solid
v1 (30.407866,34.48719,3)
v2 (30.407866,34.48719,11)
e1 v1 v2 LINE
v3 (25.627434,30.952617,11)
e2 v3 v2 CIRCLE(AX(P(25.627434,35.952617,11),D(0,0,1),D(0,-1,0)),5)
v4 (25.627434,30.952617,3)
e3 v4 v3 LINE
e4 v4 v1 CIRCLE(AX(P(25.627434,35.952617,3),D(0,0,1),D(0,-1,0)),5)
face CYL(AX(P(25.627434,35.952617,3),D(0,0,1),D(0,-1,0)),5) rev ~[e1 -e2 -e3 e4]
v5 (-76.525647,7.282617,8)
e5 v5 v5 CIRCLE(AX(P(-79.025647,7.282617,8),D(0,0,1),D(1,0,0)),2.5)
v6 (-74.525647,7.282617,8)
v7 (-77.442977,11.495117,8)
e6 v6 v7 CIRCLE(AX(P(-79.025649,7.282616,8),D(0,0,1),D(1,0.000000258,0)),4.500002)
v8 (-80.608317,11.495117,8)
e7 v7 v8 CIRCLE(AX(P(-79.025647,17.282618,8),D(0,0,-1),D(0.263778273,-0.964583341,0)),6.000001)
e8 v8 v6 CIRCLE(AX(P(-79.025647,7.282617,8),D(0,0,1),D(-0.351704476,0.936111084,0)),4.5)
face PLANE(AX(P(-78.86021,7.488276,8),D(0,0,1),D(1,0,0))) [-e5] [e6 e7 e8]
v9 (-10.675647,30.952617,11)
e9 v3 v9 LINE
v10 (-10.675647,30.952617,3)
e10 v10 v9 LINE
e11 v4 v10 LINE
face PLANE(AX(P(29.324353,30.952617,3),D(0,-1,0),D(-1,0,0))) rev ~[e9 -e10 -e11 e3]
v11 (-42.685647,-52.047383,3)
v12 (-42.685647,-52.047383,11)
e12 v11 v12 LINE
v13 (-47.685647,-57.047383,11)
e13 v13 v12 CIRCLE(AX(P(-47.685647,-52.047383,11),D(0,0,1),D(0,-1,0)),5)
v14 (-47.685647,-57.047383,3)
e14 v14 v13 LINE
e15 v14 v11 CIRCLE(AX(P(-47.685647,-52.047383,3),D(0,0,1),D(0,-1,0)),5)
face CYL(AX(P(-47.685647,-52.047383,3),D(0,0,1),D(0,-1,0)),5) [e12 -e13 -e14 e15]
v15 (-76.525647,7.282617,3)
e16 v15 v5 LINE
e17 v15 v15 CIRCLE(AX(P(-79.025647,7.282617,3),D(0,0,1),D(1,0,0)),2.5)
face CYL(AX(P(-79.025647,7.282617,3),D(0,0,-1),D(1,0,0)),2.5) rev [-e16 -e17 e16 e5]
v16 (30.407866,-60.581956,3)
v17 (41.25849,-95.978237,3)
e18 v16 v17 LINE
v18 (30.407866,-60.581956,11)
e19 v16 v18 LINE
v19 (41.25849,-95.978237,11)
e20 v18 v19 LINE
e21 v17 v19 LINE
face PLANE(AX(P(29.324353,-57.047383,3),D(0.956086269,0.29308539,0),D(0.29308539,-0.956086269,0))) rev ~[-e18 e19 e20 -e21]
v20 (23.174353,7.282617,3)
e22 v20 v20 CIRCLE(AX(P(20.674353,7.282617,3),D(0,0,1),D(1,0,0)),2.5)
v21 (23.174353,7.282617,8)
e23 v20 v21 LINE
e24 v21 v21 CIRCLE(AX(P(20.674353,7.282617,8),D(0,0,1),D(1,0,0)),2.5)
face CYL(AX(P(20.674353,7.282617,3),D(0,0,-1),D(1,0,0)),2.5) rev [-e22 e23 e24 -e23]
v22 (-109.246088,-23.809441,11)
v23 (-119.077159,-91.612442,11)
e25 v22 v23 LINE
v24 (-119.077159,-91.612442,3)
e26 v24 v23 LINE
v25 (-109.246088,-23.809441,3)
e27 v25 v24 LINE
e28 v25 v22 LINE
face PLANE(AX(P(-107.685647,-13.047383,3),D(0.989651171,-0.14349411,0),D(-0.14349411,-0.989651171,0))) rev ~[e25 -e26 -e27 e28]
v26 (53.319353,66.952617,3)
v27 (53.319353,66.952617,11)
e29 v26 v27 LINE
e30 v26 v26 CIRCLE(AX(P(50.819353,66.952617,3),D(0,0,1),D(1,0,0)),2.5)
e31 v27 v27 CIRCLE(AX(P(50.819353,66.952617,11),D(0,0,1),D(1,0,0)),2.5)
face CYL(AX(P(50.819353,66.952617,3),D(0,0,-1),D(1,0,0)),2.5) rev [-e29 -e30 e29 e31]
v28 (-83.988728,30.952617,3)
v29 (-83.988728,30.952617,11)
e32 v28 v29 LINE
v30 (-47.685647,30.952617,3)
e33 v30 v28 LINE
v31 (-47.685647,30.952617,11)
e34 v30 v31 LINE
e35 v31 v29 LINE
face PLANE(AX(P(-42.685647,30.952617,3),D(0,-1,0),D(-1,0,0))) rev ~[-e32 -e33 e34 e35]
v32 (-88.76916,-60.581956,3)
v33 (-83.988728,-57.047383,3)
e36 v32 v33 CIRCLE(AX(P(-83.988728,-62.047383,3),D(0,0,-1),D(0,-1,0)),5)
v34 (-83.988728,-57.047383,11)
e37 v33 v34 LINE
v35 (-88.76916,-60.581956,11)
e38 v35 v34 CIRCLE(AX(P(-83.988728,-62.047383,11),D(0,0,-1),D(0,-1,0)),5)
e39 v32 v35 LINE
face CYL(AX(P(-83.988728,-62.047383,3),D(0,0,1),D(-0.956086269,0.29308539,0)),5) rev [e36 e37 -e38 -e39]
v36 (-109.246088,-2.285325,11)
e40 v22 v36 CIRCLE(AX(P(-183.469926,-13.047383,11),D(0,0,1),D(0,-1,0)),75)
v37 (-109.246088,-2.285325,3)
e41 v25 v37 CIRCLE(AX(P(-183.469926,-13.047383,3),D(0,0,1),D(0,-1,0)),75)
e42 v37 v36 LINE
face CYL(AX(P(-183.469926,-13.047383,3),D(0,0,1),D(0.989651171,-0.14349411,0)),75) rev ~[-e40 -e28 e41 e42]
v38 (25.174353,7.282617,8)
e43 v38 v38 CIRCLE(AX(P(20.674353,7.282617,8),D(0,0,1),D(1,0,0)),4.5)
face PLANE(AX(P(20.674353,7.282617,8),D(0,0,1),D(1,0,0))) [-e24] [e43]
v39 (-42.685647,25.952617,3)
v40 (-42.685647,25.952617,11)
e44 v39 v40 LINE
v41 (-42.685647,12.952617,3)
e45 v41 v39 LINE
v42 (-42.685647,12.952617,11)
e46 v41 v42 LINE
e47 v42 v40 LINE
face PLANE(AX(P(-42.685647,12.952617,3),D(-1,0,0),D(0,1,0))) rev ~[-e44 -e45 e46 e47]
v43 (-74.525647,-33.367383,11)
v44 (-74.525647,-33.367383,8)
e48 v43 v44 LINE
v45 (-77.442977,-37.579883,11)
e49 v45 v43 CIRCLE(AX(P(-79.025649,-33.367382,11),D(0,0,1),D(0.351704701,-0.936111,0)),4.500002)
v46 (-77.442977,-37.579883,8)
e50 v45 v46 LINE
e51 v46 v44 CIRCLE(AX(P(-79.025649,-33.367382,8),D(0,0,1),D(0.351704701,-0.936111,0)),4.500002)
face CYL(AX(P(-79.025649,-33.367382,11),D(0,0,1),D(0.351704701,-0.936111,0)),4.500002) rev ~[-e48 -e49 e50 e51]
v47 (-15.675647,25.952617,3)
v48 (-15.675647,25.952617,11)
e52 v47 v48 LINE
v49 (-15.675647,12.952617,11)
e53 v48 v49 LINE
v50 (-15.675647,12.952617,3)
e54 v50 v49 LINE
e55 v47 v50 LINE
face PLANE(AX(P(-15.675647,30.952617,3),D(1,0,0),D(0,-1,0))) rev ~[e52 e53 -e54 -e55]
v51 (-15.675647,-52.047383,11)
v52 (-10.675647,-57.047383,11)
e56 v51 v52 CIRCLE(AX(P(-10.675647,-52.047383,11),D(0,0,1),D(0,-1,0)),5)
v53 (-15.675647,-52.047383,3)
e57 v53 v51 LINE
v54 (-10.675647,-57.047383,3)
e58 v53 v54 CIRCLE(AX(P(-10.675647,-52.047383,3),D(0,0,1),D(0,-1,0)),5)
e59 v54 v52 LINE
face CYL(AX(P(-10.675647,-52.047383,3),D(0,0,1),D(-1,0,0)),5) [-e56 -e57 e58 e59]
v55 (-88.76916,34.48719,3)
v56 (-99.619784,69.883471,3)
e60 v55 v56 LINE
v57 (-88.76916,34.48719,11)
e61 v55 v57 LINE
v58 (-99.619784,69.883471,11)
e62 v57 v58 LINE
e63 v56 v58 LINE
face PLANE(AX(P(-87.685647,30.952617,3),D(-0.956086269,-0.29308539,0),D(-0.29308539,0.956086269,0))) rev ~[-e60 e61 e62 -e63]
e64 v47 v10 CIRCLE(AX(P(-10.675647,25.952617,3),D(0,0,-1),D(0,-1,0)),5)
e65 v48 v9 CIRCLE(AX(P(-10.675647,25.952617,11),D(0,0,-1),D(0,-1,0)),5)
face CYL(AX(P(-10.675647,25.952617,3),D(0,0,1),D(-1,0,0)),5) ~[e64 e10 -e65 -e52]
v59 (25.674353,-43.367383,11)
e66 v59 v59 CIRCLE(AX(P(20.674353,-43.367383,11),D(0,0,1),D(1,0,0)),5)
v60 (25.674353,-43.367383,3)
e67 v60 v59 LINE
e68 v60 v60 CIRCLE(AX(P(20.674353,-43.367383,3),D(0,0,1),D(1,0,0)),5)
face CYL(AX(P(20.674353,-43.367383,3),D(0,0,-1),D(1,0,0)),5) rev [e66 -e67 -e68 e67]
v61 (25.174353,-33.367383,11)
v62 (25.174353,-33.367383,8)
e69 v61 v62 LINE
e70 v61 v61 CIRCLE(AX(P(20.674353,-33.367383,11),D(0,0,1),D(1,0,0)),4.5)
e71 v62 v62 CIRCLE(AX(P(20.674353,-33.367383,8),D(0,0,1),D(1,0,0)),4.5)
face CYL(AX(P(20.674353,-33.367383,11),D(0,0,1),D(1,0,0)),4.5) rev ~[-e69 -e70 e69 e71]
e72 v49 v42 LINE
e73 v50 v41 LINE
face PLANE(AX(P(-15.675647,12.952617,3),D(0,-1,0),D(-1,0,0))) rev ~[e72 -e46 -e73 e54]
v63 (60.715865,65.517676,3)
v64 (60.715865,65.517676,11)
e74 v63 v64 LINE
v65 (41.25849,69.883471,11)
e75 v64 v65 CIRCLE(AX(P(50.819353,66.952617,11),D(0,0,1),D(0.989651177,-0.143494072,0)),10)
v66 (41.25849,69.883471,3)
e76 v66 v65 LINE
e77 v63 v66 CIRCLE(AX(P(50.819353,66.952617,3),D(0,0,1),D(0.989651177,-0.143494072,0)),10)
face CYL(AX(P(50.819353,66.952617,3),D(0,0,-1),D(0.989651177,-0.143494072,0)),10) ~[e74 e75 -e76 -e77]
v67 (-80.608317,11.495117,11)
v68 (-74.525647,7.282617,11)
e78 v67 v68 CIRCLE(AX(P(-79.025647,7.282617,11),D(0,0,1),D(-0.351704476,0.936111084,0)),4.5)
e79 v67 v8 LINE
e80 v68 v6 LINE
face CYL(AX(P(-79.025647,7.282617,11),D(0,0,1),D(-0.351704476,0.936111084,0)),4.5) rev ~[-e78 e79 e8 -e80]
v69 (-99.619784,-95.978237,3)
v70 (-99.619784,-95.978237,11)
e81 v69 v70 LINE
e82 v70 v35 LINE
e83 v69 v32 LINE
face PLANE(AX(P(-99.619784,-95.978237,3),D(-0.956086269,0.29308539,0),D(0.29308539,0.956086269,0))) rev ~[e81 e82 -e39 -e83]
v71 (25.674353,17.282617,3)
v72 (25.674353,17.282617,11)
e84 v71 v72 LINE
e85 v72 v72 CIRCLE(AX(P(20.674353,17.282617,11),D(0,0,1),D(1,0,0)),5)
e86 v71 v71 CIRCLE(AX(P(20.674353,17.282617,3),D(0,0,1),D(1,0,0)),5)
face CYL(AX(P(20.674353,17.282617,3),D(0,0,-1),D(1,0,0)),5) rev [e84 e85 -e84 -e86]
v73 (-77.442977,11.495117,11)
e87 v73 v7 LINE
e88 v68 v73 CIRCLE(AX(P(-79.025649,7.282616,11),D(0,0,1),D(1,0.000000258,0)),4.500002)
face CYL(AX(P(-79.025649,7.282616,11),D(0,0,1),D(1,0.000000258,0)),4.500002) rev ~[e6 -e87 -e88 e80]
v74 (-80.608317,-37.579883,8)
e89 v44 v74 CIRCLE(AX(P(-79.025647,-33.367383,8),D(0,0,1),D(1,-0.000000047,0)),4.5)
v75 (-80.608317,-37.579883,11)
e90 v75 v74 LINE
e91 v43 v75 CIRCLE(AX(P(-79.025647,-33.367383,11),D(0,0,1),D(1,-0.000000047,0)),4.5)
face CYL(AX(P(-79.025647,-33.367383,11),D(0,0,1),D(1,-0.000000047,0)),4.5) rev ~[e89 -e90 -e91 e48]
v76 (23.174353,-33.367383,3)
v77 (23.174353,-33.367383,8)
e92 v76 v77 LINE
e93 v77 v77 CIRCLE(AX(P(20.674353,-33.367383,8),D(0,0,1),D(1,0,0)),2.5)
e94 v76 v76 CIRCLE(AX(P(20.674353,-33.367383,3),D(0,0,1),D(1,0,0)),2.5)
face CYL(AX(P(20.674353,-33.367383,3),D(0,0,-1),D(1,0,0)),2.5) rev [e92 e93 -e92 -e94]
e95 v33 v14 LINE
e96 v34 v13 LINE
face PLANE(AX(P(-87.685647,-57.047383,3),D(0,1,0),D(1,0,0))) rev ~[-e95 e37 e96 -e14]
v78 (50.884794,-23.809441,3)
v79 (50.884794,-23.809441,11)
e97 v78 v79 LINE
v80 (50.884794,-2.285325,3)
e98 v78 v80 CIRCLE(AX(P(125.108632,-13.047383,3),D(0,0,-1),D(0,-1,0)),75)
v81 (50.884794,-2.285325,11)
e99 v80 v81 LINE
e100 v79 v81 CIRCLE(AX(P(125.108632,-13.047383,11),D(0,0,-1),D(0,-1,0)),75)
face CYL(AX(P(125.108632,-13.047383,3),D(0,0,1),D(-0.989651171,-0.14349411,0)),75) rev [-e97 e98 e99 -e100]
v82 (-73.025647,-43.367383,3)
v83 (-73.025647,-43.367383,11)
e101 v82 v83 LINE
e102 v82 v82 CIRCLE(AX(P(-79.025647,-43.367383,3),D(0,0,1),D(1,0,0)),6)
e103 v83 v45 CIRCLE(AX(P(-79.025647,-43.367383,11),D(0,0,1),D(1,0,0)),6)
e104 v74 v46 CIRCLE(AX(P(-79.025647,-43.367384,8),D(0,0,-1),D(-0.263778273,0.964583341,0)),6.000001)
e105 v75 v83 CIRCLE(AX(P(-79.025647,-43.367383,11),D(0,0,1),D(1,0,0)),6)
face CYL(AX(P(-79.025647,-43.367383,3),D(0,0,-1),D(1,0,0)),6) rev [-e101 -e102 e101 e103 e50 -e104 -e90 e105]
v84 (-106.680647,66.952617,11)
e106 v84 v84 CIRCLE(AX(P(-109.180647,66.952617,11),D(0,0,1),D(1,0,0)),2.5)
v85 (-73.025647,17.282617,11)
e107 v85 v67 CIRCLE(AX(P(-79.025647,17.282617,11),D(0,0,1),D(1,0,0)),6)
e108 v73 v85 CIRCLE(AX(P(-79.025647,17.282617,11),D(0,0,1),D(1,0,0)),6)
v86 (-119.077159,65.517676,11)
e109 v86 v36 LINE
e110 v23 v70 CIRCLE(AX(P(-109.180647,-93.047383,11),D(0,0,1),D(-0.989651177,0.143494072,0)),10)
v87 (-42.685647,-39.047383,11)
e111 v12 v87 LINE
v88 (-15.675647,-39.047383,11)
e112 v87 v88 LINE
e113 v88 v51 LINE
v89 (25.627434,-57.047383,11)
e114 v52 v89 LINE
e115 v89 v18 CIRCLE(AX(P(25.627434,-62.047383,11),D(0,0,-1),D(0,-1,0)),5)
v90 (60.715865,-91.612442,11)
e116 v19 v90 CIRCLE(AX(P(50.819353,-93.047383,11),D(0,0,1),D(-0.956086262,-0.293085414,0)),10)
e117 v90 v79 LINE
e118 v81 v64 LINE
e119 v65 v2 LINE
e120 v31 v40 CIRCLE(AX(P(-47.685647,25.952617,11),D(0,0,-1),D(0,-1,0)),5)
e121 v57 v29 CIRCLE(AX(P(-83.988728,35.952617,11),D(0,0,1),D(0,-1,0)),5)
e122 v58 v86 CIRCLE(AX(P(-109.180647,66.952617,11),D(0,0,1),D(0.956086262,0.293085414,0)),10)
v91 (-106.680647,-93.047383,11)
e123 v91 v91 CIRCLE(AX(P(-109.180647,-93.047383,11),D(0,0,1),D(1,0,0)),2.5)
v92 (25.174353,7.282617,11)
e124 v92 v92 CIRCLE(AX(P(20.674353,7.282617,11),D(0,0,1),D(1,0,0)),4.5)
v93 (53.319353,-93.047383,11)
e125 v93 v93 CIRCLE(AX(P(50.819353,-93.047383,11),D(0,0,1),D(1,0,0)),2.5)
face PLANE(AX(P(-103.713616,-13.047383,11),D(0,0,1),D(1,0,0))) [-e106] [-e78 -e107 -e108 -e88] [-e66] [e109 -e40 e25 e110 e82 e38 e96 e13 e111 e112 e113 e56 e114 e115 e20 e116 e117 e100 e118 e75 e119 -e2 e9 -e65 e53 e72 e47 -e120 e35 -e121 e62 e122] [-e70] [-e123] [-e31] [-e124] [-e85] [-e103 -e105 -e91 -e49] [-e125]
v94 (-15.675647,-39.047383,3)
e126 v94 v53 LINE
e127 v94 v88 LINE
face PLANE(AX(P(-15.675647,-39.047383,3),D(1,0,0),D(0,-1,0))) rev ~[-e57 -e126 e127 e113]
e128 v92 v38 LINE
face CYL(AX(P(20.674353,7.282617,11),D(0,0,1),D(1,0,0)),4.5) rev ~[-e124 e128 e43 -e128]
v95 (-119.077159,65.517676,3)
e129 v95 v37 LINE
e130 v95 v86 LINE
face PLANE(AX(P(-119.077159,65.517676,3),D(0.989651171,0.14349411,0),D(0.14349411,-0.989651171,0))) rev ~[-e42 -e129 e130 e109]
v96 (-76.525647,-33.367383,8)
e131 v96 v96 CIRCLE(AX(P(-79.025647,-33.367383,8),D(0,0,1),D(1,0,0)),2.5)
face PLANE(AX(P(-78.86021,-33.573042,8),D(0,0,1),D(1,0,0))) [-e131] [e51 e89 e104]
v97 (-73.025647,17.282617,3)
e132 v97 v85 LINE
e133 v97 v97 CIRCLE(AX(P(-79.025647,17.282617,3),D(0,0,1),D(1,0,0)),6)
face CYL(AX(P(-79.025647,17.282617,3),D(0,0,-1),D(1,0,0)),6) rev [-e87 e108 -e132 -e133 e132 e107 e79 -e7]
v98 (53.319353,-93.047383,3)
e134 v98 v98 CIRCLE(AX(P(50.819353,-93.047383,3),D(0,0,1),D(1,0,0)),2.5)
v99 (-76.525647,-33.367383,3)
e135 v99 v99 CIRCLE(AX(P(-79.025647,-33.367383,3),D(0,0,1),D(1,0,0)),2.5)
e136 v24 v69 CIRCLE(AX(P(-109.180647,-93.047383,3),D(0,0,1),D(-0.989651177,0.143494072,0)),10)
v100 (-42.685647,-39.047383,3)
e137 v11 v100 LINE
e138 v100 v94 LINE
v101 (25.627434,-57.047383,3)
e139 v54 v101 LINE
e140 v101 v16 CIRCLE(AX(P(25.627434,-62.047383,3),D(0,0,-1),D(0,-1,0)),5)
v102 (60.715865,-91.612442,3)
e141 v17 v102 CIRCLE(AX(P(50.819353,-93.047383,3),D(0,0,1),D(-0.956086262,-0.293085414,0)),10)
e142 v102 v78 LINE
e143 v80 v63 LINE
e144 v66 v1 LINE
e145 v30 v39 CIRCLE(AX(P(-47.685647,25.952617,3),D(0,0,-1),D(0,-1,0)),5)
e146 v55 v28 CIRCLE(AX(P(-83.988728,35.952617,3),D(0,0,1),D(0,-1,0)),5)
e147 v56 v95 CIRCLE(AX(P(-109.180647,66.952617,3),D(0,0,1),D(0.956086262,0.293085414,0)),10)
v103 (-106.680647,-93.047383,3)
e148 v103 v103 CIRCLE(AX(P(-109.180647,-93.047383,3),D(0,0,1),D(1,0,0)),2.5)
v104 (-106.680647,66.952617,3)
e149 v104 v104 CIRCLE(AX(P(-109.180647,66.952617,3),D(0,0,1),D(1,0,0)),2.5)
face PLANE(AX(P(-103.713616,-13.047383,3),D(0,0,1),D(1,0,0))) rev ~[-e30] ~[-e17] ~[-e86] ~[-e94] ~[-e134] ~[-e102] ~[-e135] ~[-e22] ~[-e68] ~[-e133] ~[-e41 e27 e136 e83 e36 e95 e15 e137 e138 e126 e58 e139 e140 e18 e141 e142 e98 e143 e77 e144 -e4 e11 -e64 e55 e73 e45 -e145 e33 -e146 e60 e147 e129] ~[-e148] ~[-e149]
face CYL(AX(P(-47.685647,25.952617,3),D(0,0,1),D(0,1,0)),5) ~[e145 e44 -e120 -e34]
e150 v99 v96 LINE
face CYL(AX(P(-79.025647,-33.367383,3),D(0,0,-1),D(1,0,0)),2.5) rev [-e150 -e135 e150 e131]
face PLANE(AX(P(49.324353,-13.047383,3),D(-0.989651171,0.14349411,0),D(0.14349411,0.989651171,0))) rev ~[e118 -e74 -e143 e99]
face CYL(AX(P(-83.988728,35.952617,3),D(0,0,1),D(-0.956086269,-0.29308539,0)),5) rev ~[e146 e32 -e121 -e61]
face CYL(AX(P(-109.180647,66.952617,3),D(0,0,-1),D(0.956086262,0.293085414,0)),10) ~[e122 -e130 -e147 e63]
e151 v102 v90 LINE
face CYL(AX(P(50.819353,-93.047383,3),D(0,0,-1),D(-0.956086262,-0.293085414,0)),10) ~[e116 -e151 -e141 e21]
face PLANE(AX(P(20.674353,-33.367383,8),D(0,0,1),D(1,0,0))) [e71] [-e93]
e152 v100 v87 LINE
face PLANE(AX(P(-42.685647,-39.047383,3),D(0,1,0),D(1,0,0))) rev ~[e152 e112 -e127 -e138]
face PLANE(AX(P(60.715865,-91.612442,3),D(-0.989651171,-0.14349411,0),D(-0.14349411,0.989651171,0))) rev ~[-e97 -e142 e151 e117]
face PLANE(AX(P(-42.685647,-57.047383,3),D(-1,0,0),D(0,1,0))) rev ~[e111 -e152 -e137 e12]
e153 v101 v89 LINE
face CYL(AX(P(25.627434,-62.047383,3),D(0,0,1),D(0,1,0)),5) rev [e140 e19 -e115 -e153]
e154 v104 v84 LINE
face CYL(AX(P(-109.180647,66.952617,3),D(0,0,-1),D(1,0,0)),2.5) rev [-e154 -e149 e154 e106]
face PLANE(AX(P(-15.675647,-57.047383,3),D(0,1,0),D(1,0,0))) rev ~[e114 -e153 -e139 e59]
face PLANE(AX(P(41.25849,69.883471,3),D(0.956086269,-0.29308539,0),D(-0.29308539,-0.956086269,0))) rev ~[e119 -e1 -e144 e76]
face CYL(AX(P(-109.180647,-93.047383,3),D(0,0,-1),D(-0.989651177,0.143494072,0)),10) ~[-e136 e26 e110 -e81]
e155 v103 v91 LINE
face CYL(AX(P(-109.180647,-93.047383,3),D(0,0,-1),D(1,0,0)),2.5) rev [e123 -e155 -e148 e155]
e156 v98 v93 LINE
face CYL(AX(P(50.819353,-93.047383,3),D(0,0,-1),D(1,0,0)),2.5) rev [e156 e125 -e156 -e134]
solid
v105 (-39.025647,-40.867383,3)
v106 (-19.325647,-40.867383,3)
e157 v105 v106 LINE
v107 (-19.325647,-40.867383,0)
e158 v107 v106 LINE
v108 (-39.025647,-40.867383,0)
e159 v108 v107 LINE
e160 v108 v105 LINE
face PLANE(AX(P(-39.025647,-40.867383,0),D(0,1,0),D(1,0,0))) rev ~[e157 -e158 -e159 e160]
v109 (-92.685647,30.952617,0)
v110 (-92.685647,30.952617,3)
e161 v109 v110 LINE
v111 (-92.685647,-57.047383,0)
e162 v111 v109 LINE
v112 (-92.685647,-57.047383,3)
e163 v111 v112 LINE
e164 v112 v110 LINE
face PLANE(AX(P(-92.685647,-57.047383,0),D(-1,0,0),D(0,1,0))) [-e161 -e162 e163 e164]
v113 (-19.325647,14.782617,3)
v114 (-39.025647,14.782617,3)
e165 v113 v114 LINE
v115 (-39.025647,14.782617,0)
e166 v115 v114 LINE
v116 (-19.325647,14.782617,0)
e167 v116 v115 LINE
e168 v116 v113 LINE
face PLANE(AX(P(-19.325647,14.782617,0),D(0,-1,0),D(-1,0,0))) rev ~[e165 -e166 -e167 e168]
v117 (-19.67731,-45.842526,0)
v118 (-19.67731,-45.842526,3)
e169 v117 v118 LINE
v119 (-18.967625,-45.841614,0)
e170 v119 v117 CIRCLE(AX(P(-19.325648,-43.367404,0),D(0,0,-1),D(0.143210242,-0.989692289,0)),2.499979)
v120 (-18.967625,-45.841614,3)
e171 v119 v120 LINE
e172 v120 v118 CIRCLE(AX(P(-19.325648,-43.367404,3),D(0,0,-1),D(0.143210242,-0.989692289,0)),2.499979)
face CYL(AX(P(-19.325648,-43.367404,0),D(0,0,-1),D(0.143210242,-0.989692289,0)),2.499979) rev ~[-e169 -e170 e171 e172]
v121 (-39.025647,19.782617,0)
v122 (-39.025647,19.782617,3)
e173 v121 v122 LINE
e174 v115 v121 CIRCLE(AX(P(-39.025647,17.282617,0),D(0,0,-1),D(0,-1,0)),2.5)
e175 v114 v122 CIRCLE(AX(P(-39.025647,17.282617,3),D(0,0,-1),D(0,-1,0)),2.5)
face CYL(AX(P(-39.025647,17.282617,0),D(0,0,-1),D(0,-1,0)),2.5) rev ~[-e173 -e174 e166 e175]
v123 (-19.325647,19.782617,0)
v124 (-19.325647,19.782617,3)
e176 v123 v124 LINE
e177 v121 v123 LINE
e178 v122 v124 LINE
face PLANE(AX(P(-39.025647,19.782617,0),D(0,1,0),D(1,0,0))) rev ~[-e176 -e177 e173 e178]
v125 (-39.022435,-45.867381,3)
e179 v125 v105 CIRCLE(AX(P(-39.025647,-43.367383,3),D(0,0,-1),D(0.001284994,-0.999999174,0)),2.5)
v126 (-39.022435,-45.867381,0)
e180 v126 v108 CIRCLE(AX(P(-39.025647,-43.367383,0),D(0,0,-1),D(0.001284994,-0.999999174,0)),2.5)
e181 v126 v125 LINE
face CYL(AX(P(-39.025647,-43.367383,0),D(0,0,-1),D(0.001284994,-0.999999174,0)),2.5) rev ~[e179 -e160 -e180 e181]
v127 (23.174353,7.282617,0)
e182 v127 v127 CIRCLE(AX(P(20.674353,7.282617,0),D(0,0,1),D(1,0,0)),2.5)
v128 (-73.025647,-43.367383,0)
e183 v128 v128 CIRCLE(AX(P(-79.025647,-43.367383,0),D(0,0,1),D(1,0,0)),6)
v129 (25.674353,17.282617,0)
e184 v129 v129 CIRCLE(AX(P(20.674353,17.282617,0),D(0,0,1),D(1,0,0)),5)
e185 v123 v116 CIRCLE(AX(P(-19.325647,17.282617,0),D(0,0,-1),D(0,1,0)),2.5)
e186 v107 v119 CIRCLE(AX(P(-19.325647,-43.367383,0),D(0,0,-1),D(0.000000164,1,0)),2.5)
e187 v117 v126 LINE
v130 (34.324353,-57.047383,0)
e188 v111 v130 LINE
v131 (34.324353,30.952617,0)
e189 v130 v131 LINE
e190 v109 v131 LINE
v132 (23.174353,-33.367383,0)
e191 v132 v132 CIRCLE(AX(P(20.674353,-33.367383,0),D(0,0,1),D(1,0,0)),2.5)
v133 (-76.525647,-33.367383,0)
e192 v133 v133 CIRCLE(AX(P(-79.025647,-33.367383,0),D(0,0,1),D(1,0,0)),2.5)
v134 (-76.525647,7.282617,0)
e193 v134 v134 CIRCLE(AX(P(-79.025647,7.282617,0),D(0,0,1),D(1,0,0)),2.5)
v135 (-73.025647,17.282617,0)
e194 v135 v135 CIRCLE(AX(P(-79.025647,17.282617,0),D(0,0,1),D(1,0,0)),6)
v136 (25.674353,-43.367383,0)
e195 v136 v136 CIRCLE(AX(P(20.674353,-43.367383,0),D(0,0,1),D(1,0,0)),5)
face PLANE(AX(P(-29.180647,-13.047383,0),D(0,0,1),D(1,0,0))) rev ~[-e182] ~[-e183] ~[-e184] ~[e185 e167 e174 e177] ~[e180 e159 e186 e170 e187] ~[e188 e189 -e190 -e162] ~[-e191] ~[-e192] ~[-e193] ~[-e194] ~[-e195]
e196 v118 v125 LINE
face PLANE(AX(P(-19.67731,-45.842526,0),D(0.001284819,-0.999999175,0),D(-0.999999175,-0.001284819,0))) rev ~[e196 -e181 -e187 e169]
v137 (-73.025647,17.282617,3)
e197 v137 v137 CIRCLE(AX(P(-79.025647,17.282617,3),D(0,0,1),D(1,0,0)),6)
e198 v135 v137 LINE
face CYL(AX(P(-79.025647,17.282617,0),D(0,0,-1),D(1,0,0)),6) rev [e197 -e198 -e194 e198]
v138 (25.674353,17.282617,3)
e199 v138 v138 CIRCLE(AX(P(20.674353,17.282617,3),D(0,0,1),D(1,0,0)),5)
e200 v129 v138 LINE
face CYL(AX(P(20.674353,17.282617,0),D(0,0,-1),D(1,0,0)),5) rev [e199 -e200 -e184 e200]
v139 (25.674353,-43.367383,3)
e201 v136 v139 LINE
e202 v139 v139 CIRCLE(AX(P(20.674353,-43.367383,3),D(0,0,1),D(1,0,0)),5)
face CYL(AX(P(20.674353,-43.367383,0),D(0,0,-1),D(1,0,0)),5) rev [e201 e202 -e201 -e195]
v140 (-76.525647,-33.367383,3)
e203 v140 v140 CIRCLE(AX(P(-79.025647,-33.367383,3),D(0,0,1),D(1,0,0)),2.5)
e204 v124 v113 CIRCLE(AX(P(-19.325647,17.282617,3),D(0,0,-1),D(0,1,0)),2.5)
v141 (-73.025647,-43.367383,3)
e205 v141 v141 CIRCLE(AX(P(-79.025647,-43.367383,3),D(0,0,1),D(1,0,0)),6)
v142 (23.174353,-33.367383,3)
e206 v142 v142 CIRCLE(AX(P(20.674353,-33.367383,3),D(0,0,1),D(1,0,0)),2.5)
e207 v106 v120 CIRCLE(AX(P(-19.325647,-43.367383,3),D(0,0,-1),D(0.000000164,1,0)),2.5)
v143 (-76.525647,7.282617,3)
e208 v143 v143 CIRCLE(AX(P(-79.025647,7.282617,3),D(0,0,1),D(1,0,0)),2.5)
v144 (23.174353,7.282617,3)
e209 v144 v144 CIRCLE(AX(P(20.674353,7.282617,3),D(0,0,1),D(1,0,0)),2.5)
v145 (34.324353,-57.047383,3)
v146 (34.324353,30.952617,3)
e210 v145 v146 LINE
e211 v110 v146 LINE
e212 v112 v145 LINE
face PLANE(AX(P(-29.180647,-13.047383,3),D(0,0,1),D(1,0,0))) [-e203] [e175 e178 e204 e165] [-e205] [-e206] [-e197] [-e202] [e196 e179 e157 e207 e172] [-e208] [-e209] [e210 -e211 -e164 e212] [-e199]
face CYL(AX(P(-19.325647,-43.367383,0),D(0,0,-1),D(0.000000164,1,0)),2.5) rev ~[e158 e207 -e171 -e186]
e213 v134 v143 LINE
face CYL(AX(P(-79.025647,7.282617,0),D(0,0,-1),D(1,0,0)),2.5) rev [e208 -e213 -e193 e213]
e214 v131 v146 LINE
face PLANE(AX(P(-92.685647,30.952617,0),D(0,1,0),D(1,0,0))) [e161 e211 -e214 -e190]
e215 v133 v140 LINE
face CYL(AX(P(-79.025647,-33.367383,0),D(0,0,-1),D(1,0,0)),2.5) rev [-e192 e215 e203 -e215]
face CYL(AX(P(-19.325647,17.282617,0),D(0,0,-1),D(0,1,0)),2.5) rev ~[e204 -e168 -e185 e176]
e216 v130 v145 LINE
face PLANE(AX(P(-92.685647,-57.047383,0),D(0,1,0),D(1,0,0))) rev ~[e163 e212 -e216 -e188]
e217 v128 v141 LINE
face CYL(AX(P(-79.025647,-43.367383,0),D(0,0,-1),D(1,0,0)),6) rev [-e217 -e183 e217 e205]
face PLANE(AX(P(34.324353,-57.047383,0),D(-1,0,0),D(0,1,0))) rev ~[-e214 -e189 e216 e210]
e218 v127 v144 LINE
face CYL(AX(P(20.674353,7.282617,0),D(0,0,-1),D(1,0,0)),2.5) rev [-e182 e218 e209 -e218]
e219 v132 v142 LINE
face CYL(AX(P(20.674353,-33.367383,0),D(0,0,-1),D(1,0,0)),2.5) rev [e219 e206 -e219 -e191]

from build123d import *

# Parameters (mm, degrees)
F0_W     = 127.01
F0_H     = 88
F0_R     = 6
F0_R_2   = 2.5
F0_R_3   = 5
F1_DEPTH = 3
F2_R     = 2.5
F2_R_2   = 6
F2_R_3   = 5
F3_DEPTH = 8
F4_R     = 75
F5_R     = 5
F6_R     = 5
F7_R     = 4.5
F7_R_2   = 2.5
F8_DEPTH = 3


with BuildPart() as f1:
    # F0 (on Top) → F1 (new body)
    with BuildSketch(Plane.XY):
        with Locations((-29.180647, -13.047383)):
            Rectangle(F0_W, F0_H)
        with Locations((-79.025647, -43.367383)):
            Circle(F0_R, mode=Mode.SUBTRACT)
        with Locations((-79.025647, -33.367383)):
            Circle(F0_R_2, mode=Mode.SUBTRACT)
        with BuildLine():
            ThreePointArc((-39.022435, -45.867381), (-41.525647, -43.368989), (-39.025647, -40.867383))
            Line((-39.025647, -40.867383), (-19.325647, -40.867383))
            ThreePointArc((-19.325647, -40.867383), (-16.832098, -43.187909), (-18.967625, -45.841614))
            ThreePointArc((-18.967625, -45.841614), (-19.322435, -45.867381), (-19.67731, -45.842526))
            Line((-19.67731, -45.842526), (-39.022435, -45.867381))
        make_face(mode=Mode.SUBTRACT)
        with Locations((20.674353, -43.367383)):
            Circle(F0_R_3, mode=Mode.SUBTRACT)
        with Locations((20.674353, -33.367383)):
            Circle(F0_R_2, mode=Mode.SUBTRACT)
        with Locations((-79.025647, 7.282617)):
            Circle(F0_R_2, mode=Mode.SUBTRACT)
        with Locations((-79.025647, 17.282617)):
            Circle(F0_R, mode=Mode.SUBTRACT)
        with Locations((20.674353, 7.282617)):
            Circle(F0_R_2, mode=Mode.SUBTRACT)
        with BuildLine():
            ThreePointArc((-39.025647, 14.782617), (-41.525647, 17.282617), (-39.025647, 19.782617))
            Line((-39.025647, 19.782617), (-19.325647, 19.782617))
            ThreePointArc((-19.325647, 19.782617), (-16.825647, 17.282617), (-19.325647, 14.782617))
            Line((-19.325647, 14.782617), (-39.025647, 14.782617))
        make_face(mode=Mode.SUBTRACT)
        with Locations((20.674353, 17.282617)):
            Circle(F0_R_3, mode=Mode.SUBTRACT)
    extrude(amount=F1_DEPTH)


with BuildPart() as f3:
    # F2 (on face) → F3 (new body)
    with BuildSketch(Plane.XY.offset(3)):
        with BuildLine():
            Line((-92.685647, -57.047383), (-92.685647, 30.952617))
            Line((-92.685647, 30.952617), (-87.685647, 30.952617))
            Line((-87.685647, 30.952617), (-99.619784, 69.883471))
            ThreePointArc((-99.619784, 69.883471), (-111.369986, 76.710014), (-119.077159, 65.517676))
            Line((-119.077159, 65.517676), (-107.685647, -13.047383))
            Line((-107.685647, -13.047383), (-119.077159, -91.612442))
            ThreePointArc((-119.077159, -91.612442), (-111.369986, -102.80478), (-99.619784, -95.978237))
            Line((-99.619784, -95.978237), (-87.685647, -57.047383))
            Line((-87.685647, -57.047383), (-92.685647, -57.047383))
        make_face()
        with Locations((-109.180647, -93.047383)):
            Circle(F2_R, mode=Mode.SUBTRACT)
        with Locations((-109.180647, 66.952617)):
            Circle(F2_R, mode=Mode.SUBTRACT)
        with BuildLine():
            Line((41.25849, 69.883471), (29.324353, 30.952617))
            Line((29.324353, 30.952617), (34.324353, 30.952617))
            Line((34.324353, 30.952617), (34.324353, -57.047383))
            Line((34.324353, -57.047383), (29.324353, -57.047383))
            Line((29.324353, -57.047383), (41.25849, -95.978237))
            ThreePointArc((41.25849, -95.978237), (53.008692, -102.80478), (60.715865, -91.612442))
            Line((60.715865, -91.612442), (49.324353, -13.047383))
            Line((49.324353, -13.047383), (60.715865, 65.517676))
            ThreePointArc((60.715865, 65.517676), (53.008692, 76.710014), (41.25849, 69.883471))
        make_face()
        with Locations((50.819353, -93.047383)):
            Circle(F2_R, mode=Mode.SUBTRACT)
        with Locations((50.819353, 66.952617)):
            Circle(F2_R, mode=Mode.SUBTRACT)
        Polygon((-87.685647, 30.952617), (-92.685647, 30.952617), (-92.685647, -57.047383), (-87.685647, -57.047383), (-42.685647, -57.047383), (-42.685647, -39.047383), (-15.675647, -39.047383), (-15.675647, -57.047383), (29.324353, -57.047383), (34.324353, -57.047383), (34.324353, 30.952617), (29.324353, 30.952617), (-15.675647, 30.952617), (-15.675647, 12.952617), (-42.685647, 12.952617), (-42.685647, 30.952617), align=None)
        with Locations((-79.025647, -43.367383)):
            Circle(F2_R_2, mode=Mode.SUBTRACT)
        with Locations((-79.025647, -33.367383)):
            Circle(F2_R, mode=Mode.SUBTRACT)
        with Locations((20.674353, -43.367383)):
            Circle(F2_R_3, mode=Mode.SUBTRACT)
        with Locations((20.674353, -33.367383)):
            Circle(F2_R, mode=Mode.SUBTRACT)
        with Locations((-79.025647, 7.282617)):
            Circle(F2_R, mode=Mode.SUBTRACT)
        with Locations((-79.025647, 17.282617)):
            Circle(F2_R_2, mode=Mode.SUBTRACT)
        with Locations((20.674353, 7.282617)):
            Circle(F2_R, mode=Mode.SUBTRACT)
        with Locations((20.674353, 17.282617)):
            Circle(F2_R_3, mode=Mode.SUBTRACT)
    extrude(amount=F3_DEPTH)

    # F4
    f4_edges = [f3.edges().sort_by_distance(p)[0] for p in [
        (-107.685647, -13.047383, 7),
        (49.324353, -13.047383, 7),
    ]]
    fillet(f4_edges, radius=F4_R)

    # F5
    f5_edges = [f3.edges().sort_by_distance(p)[0] for p in [
        (29.324353, -57.047383, 7),
        (-87.685647, 30.952617, 7),
        (29.324353, 30.952617, 7),
        (-87.685647, -57.047383, 7),
    ]]
    fillet(f5_edges, radius=F5_R)

    # F6
    f6_edges = [f3.edges().sort_by_distance(p)[0] for p in [
        (-42.685647, -57.047383, 7),
        (-15.675647, -57.047383, 7),
        (-42.685647, 30.952617, 7),
        (-15.675647, 30.952617, 7),
    ]]
    fillet(f6_edges, radius=F6_R)

    # F7 (on face) → F8 (cut)
    with BuildSketch(Plane.XY.offset(11)):
        with Locations((20.674353, 7.282617)):
            Circle(F7_R)
        with Locations((20.674353, 7.282617)):
            Circle(F7_R_2, mode=Mode.SUBTRACT)
        with Locations((20.674353, -33.367383)):
            Circle(F7_R)
        with Locations((20.674353, -33.367383)):
            Circle(F7_R_2, mode=Mode.SUBTRACT)
        with BuildLine():
            ThreePointArc((-77.442977, -37.579883), (-75.326187, -35.929412), (-74.525647, -33.367383))
            ThreePointArc((-74.525647, -33.367383), (-81.587676, -29.667922), (-80.608317, -37.579883))
            ThreePointArc((-80.608317, -37.579883), (-79.025647, -37.367383), (-77.442977, -37.579883))
        make_face()
        with Locations((-79.025647, -33.367383)):
            Circle(F7_R_2, mode=Mode.SUBTRACT)
        with BuildLine():
            ThreePointArc((-80.608317, 11.495117), (-81.587676, 3.583157), (-74.525647, 7.282617))
            ThreePointArc((-74.525647, 7.282617), (-75.326187, 9.844646), (-77.442977, 11.495117))
            ThreePointArc((-77.442977, 11.495117), (-79.025647, 11.282617), (-80.608317, 11.495117))
        make_face()
        with Locations((-79.025647, 7.282617)):
            Circle(F7_R_2, mode=Mode.SUBTRACT)
    extrude(amount=-F8_DEPTH, mode=Mode.SUBTRACT)


solid = Compound([f1.part, f3.part])
